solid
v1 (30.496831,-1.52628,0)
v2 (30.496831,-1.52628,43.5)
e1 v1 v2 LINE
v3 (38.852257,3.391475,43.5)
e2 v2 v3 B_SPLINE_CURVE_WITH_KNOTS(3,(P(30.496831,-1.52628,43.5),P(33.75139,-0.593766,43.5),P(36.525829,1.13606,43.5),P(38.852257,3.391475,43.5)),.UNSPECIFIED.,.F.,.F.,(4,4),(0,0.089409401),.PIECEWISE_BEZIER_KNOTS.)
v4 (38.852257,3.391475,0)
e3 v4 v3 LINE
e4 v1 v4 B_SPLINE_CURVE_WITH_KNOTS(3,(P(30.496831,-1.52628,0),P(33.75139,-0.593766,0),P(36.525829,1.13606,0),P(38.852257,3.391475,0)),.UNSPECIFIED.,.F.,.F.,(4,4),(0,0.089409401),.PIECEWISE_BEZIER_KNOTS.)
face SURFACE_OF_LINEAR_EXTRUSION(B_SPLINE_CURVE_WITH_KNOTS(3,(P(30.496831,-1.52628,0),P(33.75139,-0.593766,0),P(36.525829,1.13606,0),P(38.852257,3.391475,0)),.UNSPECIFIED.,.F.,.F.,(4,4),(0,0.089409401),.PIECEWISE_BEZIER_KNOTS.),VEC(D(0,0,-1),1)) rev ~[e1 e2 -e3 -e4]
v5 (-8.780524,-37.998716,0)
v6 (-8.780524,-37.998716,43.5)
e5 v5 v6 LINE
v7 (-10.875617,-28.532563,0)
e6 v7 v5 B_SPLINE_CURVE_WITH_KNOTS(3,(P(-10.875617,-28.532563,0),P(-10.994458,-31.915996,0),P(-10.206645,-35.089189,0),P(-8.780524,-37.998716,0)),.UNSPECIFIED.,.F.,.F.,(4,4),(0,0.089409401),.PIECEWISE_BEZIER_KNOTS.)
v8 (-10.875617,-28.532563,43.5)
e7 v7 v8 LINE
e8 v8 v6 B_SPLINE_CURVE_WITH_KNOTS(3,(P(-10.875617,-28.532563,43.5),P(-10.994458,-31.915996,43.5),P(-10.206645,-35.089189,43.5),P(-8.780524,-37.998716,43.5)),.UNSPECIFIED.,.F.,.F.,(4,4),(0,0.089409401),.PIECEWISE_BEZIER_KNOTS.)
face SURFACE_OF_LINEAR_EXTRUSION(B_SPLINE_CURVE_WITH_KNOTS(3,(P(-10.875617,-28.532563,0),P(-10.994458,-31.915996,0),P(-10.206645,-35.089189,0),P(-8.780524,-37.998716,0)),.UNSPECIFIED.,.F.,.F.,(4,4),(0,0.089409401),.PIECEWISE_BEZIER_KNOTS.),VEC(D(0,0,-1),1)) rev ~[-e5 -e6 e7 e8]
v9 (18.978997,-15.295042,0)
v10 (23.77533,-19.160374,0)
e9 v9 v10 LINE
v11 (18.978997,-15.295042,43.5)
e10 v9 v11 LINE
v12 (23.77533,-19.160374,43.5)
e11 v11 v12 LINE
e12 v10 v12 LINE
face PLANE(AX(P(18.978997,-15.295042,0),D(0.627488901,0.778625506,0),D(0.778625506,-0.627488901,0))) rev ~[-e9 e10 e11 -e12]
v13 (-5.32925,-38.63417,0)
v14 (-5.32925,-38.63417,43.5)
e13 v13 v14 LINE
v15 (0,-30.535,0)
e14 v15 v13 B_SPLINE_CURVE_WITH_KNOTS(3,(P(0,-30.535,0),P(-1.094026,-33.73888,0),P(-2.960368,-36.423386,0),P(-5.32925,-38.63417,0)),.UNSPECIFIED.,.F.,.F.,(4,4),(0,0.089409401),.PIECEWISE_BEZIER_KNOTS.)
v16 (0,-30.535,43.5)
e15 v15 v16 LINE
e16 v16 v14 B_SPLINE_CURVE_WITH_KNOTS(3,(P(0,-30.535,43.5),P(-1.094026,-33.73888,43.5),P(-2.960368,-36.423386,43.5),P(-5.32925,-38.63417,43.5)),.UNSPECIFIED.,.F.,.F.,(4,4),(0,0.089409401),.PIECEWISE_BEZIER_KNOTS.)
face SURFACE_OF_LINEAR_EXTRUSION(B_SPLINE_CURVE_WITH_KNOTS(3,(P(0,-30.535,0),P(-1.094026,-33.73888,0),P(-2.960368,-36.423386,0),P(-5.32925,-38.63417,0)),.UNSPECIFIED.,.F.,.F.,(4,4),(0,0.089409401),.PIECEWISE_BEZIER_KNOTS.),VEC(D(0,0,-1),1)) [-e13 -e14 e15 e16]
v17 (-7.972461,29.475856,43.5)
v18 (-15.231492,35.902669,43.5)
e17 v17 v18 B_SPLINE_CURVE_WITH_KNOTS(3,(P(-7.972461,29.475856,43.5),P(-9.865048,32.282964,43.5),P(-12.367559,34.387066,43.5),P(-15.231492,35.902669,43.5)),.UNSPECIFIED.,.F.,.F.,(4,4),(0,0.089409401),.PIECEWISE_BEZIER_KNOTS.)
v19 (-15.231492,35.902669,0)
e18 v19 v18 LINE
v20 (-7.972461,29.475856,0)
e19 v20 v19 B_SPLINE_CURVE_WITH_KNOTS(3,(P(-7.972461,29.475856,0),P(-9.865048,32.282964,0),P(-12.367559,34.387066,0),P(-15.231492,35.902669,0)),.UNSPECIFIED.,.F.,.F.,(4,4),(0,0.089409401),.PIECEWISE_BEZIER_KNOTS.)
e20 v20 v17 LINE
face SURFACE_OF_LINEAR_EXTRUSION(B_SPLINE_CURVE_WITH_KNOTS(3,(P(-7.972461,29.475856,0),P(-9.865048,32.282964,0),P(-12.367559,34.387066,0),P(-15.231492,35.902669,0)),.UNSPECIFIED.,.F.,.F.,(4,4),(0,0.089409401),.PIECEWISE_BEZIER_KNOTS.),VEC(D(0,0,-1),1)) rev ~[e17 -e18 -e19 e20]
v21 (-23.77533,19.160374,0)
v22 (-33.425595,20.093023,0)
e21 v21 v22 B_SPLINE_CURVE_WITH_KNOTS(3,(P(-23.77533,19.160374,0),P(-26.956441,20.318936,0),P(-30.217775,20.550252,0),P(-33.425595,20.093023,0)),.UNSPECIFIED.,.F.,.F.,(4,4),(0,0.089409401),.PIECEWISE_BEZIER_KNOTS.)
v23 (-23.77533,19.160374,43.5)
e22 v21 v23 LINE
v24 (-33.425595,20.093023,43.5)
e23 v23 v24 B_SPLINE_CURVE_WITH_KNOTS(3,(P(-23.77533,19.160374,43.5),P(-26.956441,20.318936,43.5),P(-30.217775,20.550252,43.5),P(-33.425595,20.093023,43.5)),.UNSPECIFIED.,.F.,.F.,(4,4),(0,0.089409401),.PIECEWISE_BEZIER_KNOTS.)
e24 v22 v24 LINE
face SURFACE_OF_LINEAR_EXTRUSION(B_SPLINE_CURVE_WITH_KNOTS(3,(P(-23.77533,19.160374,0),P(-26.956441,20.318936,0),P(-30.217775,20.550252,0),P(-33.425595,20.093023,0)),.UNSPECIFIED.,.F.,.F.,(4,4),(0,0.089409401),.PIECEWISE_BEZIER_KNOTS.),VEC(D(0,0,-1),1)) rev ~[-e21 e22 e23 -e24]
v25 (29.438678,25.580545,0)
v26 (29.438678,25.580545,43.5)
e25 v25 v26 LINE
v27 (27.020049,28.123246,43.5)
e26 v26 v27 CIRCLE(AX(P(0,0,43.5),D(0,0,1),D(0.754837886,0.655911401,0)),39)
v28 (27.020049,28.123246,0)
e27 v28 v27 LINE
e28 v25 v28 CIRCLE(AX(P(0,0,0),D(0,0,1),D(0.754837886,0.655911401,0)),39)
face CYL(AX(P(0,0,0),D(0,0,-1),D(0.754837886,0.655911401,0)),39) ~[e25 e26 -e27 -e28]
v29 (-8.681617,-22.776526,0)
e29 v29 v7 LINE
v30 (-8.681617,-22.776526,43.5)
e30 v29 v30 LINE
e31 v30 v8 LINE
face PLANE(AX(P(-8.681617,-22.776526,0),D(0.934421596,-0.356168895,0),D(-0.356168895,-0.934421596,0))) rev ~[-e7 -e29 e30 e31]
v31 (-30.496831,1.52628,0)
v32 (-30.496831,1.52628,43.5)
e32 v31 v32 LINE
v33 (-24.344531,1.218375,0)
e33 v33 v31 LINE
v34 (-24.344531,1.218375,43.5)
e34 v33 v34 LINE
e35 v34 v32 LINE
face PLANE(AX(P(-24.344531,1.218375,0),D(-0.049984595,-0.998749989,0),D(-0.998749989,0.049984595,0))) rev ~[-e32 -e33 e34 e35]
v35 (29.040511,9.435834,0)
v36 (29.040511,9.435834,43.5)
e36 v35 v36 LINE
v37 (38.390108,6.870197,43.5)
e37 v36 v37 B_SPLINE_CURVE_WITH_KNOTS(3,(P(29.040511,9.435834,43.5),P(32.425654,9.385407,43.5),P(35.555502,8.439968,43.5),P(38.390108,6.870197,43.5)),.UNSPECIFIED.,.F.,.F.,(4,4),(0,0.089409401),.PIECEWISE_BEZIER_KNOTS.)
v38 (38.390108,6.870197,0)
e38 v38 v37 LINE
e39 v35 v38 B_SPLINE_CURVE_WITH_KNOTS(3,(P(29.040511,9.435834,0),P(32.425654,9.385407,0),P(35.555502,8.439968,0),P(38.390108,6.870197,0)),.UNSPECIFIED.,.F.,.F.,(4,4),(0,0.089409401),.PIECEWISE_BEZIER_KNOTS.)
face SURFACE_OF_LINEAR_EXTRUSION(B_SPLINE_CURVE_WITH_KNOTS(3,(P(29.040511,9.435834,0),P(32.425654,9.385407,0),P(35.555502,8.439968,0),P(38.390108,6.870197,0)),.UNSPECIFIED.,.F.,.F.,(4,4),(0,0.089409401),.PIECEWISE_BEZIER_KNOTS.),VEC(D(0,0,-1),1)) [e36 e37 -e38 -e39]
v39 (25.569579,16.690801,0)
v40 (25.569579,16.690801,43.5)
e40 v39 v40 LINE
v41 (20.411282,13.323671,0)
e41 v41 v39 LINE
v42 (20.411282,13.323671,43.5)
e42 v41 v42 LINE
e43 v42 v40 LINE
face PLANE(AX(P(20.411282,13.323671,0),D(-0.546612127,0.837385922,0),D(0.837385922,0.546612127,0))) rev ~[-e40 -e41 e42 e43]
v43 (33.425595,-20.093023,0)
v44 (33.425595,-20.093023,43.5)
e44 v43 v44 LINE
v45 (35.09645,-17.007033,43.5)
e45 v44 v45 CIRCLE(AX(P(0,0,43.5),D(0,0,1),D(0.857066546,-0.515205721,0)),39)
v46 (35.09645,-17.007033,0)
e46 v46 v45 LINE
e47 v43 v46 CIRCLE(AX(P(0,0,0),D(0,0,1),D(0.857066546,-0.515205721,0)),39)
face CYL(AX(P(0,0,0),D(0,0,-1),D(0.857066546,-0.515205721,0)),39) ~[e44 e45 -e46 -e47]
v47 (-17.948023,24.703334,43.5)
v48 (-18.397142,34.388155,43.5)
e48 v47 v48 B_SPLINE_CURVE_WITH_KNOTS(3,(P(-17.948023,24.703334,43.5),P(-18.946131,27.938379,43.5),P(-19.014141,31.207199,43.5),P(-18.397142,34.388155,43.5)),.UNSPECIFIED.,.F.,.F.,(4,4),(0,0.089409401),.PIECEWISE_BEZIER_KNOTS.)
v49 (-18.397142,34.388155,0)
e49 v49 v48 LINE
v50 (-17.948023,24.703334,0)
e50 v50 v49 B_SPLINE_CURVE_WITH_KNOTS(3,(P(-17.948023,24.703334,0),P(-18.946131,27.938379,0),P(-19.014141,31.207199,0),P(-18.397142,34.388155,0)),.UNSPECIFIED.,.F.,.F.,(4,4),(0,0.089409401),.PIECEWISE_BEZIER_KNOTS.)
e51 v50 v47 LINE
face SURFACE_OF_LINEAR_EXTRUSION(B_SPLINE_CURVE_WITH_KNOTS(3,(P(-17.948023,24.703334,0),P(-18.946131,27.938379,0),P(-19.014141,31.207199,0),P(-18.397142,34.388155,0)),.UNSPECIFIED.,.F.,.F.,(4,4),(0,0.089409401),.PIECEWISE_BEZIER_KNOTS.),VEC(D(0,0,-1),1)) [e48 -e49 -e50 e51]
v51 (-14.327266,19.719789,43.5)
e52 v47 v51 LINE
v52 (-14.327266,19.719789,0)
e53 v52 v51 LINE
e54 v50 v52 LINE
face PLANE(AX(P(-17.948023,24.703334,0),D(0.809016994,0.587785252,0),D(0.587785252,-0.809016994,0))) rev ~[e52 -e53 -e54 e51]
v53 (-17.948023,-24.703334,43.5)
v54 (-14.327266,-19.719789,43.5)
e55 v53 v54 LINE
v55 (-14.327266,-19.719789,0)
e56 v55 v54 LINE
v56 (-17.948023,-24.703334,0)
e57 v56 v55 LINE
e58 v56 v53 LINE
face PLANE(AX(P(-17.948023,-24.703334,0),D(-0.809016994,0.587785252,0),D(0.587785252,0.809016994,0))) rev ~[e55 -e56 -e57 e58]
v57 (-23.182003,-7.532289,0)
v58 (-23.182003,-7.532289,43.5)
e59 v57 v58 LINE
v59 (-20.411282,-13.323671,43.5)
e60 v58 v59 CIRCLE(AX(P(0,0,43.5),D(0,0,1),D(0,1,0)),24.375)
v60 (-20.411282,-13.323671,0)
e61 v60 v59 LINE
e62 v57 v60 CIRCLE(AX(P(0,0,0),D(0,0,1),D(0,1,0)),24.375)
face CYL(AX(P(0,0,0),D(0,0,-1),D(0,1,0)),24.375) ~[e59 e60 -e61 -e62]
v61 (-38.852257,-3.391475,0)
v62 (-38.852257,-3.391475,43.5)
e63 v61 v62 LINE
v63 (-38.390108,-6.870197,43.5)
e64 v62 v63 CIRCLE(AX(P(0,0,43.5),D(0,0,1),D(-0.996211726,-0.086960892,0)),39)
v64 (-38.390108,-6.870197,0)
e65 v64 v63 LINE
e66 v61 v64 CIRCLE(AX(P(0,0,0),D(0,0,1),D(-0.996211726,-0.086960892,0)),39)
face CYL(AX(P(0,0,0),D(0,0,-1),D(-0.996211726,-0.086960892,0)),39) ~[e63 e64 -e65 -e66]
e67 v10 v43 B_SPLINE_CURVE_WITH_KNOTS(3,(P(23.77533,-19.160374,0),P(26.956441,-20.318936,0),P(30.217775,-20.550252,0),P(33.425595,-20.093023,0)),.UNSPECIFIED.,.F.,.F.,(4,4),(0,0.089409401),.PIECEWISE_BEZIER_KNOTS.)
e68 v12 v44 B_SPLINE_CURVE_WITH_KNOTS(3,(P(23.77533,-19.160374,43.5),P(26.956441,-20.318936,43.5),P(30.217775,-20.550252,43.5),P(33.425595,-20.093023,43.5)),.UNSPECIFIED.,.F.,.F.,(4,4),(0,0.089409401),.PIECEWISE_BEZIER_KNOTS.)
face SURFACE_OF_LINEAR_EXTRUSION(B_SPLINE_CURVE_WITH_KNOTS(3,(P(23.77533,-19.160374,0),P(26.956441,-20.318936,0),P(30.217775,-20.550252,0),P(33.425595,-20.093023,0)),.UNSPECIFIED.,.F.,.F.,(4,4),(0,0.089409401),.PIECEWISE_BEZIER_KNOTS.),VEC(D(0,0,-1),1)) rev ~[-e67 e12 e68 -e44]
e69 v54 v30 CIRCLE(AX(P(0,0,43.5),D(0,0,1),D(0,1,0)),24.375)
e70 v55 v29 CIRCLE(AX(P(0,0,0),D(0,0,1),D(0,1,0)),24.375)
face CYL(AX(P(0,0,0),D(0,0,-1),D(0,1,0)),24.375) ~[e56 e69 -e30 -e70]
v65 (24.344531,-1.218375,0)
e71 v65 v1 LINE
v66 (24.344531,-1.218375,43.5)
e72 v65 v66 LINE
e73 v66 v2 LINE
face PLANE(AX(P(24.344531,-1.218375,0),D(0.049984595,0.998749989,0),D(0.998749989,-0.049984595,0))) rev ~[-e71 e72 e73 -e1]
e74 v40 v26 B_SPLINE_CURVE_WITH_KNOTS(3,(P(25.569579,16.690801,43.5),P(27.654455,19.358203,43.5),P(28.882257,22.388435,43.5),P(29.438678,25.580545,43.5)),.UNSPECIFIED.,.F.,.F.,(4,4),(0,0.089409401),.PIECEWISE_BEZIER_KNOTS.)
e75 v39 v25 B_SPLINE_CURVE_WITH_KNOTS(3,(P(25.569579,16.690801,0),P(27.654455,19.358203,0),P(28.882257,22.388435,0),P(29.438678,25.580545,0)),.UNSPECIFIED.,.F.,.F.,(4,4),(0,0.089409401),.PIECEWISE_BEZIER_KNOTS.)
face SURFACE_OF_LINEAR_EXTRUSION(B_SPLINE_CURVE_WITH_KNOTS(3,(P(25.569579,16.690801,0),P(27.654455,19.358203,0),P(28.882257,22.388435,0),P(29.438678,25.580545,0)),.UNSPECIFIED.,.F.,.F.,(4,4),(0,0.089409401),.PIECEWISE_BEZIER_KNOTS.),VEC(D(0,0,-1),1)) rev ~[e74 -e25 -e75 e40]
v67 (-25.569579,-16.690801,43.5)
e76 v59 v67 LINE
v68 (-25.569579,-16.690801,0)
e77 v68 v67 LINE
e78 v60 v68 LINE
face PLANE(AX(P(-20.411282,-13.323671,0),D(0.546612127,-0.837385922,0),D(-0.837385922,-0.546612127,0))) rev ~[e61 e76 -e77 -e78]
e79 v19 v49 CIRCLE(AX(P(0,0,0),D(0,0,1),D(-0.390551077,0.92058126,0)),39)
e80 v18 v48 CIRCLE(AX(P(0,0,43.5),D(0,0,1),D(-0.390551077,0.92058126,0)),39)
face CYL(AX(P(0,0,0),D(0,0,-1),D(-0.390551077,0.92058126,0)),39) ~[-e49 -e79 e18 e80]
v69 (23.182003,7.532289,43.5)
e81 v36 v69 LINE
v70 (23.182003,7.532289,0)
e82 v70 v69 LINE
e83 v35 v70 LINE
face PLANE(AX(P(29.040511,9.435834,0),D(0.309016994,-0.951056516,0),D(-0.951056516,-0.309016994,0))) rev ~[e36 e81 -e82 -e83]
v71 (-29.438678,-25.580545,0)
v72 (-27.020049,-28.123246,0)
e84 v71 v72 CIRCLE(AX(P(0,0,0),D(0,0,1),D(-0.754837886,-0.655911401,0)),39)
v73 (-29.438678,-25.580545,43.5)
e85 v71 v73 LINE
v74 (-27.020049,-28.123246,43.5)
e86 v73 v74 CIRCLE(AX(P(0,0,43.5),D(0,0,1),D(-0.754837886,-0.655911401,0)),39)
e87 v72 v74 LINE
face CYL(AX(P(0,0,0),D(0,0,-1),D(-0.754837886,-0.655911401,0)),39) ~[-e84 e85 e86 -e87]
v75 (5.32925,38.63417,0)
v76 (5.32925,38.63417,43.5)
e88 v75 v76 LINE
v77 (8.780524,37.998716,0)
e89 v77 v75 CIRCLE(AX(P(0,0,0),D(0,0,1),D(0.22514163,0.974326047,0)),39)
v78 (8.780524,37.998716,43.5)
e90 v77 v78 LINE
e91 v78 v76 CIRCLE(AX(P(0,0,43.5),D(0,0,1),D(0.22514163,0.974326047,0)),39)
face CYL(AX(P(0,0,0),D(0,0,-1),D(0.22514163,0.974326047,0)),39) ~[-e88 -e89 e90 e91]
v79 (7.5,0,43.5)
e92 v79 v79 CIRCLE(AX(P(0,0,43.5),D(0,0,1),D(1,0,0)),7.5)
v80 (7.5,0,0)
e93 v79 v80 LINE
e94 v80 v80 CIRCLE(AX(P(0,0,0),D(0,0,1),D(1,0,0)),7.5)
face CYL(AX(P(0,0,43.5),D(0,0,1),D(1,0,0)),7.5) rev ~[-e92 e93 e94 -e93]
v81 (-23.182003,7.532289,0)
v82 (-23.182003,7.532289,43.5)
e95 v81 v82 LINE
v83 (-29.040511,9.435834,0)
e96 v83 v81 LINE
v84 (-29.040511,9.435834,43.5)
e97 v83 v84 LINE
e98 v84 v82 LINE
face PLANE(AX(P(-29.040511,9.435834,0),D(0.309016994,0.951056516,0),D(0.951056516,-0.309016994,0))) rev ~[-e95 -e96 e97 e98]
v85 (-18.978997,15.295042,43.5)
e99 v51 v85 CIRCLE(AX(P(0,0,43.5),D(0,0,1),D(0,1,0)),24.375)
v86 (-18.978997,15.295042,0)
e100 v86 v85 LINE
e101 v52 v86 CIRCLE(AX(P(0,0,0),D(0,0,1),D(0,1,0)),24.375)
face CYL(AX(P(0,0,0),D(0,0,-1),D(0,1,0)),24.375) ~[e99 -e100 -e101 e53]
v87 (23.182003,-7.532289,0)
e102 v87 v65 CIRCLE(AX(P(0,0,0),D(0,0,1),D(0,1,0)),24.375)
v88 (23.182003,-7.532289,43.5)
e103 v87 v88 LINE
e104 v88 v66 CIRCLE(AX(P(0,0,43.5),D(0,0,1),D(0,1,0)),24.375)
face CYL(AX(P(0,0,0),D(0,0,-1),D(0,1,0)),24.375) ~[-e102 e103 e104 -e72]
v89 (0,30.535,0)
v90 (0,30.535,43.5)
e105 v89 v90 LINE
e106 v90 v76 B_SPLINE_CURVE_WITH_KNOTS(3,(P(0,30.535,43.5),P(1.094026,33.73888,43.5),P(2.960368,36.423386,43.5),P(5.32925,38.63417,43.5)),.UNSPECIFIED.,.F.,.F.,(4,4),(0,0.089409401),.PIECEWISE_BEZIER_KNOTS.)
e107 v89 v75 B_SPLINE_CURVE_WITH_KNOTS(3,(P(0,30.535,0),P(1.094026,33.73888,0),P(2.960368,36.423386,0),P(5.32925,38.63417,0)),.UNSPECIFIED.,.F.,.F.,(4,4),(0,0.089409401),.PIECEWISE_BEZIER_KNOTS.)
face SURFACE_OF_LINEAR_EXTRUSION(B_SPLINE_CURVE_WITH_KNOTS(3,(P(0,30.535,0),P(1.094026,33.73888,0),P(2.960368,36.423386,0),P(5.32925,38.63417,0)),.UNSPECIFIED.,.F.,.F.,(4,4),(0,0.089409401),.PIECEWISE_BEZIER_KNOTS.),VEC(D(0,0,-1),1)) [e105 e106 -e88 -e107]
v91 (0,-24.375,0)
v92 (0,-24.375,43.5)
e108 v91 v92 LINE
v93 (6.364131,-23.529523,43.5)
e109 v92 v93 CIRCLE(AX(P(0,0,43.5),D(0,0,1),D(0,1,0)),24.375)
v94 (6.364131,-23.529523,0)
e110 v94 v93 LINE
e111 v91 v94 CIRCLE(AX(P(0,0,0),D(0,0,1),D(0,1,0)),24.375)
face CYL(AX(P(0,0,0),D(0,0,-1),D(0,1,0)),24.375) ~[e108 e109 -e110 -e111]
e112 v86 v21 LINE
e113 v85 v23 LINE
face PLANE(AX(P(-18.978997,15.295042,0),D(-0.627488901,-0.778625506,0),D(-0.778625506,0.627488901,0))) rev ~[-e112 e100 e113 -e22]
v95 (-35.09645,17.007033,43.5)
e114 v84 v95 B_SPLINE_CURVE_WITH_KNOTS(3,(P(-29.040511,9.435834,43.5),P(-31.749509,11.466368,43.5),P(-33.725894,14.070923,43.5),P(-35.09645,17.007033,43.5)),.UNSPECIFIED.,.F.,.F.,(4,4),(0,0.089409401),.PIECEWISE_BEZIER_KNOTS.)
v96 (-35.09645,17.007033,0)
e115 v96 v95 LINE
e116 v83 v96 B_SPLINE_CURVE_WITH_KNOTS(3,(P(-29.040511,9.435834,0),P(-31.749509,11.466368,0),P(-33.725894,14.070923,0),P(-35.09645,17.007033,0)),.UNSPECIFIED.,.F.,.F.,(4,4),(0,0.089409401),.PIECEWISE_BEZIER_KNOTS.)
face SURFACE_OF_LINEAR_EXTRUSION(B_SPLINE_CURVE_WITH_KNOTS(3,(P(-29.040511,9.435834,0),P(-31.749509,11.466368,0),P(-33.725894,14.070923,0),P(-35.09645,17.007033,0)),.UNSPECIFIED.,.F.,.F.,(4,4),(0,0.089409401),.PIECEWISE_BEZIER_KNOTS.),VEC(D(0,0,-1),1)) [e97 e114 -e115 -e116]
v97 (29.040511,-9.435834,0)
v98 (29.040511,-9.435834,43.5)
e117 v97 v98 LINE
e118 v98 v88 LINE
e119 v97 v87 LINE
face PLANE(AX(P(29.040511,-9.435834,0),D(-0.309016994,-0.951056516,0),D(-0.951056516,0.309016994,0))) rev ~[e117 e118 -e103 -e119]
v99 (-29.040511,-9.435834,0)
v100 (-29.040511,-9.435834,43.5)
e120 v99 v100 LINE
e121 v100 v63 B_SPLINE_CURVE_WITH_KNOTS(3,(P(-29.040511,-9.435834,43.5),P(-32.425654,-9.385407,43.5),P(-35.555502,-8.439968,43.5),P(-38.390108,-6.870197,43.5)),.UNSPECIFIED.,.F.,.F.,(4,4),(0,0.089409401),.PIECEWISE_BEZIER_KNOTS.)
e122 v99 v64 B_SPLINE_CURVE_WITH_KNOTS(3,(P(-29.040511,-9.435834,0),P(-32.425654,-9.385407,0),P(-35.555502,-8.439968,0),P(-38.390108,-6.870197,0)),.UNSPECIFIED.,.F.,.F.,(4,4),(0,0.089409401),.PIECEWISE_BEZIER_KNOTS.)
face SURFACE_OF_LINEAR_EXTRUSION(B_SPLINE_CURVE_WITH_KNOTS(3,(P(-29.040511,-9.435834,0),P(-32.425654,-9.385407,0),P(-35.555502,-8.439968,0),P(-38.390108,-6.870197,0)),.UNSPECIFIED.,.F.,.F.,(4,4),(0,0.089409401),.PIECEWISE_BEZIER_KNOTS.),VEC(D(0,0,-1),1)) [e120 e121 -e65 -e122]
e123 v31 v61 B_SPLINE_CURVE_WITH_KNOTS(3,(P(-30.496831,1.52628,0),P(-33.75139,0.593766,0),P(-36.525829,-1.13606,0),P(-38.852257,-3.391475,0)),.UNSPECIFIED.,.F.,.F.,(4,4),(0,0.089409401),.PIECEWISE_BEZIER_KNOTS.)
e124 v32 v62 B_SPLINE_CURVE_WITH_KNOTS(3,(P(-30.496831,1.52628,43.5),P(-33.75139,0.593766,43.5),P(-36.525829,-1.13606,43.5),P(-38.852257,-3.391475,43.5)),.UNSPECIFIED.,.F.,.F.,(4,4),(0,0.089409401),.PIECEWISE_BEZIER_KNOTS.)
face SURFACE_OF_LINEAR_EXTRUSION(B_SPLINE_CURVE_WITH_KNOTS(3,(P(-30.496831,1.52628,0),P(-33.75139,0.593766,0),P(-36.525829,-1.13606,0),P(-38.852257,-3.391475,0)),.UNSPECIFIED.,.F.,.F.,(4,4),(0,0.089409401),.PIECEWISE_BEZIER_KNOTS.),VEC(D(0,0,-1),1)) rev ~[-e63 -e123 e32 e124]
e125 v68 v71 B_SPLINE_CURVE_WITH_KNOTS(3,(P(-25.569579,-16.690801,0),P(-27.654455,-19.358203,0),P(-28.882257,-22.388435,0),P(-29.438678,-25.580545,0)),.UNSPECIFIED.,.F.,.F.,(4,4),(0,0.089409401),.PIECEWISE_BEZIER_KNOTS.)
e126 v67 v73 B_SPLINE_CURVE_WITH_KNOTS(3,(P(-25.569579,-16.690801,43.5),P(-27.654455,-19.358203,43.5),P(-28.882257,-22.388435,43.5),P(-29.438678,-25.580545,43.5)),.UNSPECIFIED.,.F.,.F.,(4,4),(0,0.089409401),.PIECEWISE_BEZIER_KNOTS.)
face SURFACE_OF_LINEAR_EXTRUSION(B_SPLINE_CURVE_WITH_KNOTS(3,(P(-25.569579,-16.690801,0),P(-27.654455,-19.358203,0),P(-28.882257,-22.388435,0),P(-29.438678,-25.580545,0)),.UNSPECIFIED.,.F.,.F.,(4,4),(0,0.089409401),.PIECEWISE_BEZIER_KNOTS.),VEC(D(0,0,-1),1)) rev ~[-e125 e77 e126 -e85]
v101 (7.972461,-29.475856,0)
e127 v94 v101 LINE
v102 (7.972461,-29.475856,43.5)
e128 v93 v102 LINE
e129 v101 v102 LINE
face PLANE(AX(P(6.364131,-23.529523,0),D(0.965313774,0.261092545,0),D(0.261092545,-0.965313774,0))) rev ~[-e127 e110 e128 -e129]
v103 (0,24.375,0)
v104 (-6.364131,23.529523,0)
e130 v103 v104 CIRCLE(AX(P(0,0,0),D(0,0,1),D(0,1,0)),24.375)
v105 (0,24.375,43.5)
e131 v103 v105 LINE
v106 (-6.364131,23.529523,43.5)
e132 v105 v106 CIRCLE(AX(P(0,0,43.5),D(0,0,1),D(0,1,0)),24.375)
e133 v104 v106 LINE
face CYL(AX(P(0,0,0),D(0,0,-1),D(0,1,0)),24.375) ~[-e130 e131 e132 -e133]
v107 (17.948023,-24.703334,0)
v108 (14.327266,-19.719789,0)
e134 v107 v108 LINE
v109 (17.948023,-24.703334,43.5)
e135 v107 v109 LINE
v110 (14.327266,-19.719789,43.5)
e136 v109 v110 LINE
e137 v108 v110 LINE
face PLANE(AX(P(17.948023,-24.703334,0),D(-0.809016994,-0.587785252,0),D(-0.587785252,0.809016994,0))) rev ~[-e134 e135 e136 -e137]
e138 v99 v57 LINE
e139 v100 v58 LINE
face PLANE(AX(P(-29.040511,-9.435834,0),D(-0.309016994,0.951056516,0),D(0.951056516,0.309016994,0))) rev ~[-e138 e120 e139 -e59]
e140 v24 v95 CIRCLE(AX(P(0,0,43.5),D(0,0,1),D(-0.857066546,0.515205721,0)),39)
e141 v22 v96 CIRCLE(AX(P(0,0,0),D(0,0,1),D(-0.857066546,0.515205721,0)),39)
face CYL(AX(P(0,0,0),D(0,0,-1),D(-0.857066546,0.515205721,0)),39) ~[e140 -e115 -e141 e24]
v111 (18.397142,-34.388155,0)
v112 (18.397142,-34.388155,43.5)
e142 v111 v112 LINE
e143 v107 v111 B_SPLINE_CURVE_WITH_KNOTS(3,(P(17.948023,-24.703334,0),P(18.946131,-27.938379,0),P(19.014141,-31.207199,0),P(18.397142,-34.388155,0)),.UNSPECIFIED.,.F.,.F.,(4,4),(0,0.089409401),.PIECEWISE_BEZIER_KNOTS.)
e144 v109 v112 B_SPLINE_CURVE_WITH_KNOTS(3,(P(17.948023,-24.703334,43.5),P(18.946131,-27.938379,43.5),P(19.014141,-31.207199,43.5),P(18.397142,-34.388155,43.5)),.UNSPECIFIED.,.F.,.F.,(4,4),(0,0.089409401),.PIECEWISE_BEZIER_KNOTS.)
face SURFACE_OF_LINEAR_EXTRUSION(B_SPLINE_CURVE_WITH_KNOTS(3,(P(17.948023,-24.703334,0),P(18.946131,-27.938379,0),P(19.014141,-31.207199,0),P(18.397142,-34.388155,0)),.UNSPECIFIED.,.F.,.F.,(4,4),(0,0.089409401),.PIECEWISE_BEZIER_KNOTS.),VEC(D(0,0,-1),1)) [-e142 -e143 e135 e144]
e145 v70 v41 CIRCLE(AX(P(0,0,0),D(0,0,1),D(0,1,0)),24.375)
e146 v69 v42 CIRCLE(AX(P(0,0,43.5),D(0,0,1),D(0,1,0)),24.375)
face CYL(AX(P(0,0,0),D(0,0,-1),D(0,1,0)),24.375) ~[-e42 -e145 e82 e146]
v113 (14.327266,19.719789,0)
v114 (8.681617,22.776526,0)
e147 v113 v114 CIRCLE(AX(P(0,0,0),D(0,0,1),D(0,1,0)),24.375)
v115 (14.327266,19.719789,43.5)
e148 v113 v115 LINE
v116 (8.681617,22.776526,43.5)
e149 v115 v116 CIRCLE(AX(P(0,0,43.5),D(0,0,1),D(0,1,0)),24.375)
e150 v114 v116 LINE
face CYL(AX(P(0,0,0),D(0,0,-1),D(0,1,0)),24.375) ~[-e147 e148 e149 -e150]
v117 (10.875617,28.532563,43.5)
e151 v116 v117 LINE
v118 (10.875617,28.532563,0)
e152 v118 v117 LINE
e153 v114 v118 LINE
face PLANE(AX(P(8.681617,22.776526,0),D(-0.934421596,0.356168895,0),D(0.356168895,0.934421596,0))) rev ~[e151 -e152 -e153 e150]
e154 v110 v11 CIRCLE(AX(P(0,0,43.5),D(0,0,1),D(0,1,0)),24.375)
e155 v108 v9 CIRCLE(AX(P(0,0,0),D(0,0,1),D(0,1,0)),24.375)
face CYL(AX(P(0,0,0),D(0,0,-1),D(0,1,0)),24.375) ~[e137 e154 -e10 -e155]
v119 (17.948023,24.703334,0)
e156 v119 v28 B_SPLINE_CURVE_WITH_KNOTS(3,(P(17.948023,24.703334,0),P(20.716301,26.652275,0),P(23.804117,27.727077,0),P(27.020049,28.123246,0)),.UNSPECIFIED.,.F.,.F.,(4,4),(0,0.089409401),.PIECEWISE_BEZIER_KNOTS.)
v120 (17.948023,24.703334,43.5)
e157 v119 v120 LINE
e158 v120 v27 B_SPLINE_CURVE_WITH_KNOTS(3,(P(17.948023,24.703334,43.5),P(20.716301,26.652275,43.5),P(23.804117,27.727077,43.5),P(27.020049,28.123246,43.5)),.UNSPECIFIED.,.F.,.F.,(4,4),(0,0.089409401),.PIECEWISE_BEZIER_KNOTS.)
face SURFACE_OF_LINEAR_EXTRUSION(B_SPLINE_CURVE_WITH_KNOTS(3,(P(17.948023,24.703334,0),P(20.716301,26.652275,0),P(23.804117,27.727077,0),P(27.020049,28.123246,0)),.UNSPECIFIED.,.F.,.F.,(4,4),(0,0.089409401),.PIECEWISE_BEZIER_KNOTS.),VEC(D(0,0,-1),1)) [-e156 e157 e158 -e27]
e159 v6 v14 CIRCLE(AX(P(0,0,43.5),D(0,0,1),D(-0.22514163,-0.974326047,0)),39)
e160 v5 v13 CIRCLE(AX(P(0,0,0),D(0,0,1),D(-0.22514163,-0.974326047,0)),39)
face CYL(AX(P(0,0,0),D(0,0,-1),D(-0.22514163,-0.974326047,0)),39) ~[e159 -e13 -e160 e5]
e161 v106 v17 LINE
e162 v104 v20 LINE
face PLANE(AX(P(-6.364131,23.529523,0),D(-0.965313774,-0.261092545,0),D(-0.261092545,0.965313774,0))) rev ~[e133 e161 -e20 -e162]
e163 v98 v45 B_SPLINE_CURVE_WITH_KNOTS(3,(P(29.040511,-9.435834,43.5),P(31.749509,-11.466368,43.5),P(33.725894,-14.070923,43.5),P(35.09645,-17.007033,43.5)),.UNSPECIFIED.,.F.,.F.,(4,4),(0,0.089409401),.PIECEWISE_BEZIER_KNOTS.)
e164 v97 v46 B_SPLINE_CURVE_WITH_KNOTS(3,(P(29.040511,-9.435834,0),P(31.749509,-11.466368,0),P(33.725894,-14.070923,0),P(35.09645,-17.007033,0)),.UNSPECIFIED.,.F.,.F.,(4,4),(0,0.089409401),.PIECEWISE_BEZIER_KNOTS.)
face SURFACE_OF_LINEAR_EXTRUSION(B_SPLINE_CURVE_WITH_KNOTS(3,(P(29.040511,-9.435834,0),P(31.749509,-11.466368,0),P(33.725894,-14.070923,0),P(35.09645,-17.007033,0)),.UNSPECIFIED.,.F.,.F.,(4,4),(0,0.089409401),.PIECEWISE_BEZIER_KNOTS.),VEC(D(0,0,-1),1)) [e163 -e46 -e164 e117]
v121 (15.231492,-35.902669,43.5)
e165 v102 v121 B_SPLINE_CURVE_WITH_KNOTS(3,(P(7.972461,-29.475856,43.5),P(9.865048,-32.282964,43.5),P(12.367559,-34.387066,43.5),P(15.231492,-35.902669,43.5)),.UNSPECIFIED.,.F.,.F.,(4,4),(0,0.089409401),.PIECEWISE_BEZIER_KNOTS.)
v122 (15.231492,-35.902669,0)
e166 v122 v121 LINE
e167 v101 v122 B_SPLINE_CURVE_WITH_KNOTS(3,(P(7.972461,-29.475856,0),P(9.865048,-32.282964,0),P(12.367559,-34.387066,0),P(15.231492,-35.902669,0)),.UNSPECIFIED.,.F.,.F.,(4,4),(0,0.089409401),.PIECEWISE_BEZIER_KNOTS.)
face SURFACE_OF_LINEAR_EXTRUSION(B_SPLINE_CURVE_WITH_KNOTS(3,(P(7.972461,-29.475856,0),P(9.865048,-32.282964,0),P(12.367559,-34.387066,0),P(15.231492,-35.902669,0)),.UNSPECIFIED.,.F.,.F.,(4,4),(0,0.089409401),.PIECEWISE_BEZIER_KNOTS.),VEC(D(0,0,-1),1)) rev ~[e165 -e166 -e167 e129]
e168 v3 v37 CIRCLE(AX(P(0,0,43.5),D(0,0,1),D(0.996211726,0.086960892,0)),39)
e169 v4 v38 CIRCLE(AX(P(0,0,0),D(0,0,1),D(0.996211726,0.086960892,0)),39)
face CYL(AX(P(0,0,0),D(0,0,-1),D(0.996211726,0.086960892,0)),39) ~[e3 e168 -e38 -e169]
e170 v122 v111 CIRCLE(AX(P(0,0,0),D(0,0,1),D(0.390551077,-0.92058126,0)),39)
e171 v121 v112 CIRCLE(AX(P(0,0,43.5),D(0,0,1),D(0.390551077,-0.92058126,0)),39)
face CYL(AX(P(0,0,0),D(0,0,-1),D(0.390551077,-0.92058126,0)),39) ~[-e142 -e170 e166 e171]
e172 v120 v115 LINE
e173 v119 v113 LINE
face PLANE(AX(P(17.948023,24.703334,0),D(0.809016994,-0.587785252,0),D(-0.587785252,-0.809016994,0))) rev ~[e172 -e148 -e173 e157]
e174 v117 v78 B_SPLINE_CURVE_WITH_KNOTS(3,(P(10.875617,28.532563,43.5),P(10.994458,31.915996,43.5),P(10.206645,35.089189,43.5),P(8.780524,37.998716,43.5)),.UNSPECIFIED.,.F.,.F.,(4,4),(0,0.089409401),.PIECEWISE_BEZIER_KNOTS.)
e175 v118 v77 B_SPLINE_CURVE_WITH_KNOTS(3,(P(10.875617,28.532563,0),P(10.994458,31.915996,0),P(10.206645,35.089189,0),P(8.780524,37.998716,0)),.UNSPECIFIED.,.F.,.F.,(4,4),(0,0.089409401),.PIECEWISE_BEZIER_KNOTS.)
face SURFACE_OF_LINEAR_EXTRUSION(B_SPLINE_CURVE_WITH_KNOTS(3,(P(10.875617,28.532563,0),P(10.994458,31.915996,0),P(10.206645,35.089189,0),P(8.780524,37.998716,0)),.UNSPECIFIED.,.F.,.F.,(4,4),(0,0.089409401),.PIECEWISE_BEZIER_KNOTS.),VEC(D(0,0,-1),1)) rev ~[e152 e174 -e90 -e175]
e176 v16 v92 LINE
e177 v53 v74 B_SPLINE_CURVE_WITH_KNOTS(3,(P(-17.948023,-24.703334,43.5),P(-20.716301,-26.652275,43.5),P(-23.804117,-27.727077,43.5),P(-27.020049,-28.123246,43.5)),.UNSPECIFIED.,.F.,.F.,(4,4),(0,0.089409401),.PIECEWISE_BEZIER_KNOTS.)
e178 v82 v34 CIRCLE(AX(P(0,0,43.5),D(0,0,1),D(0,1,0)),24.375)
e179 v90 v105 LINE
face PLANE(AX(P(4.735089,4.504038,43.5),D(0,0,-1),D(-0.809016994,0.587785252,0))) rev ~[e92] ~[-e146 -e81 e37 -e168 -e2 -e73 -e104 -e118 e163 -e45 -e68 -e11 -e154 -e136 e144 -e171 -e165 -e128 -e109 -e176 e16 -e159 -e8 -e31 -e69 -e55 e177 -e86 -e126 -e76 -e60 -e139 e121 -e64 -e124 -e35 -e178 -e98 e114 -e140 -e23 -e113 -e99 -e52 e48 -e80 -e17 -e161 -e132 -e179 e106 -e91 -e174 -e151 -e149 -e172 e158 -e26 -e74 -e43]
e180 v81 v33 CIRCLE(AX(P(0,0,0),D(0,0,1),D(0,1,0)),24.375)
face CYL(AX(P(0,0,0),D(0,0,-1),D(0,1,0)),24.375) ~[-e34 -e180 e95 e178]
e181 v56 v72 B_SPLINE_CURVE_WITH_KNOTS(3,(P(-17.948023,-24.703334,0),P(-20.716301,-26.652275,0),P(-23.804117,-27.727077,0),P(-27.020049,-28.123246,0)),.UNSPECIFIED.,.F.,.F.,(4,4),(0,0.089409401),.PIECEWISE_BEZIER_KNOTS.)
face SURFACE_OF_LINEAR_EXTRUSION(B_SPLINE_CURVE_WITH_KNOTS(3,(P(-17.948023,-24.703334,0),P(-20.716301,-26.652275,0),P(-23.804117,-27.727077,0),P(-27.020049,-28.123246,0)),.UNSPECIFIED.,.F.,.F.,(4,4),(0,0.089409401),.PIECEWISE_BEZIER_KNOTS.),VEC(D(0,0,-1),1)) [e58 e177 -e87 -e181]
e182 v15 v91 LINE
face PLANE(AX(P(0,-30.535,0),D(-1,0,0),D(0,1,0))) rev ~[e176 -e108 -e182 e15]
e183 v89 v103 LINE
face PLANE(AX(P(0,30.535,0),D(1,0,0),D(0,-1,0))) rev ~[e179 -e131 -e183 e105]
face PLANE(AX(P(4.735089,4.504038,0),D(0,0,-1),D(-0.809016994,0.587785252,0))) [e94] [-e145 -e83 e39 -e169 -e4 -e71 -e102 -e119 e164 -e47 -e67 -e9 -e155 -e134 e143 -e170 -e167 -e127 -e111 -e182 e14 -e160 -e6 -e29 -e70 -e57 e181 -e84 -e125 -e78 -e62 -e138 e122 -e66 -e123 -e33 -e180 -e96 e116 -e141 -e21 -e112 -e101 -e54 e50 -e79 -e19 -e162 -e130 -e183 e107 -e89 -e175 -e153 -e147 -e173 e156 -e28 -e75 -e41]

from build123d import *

# Parameters (mm, degrees)
BOSS_EXTRUDE1_DEPTH = 43.5
CIRPATTERN1_COUNT   = 10
SKETCH2_R           = 7.5
CUT_EXTRUDE1_DEPTH  = 70.959609915


with BuildPart() as part:
    # Sketch1 → Boss-Extrude1 (new body)
    with BuildSketch(Plane.XY):
        with BuildLine():
            add(Edge.make_bspline(
                [(0, 30.535), (1.094025697, 33.738879921), (2.960368297, 36.423385517), (5.329249796, 38.634170065)],
                knots=[0, 0, 0, 0, 0.089409401, 0.089409401, 0.089409401, 0.089409401], degree=3))
            Line((0, 30.535), (0, 24.375))
            ThreePointArc((0, 24.375), (-4.413773565, -23.972050974), (8.681616812, 22.776526393))
            Line((8.681616812, 22.776526393), (10.875617204, 28.532563422))
            add(Edge.make_bspline(
                [(10.875617204, 28.532563422), (10.994458338, 31.915995933), (10.206644899, 35.089189117), (8.780523558, 37.998715847)],
                knots=[0, 0, 0, 0, 0.089409401, 0.089409401, 0.089409401, 0.089409401], degree=3))
            ThreePointArc((8.780523558, 37.998715847), (7.062037704, 38.355281559), (5.329249796, 38.634170065))
        make_face()
    boss_extrude1 = extrude(amount=BOSS_EXTRUDE1_DEPTH)

    # CirPattern1: Boss-Extrude1 ×10 about axis
    cirpattern1_axis = Axis((0, 0, 43.5), (0, 0, 1))
    for i in range(1, CIRPATTERN1_COUNT):
        add(boss_extrude1.rotate(cirpattern1_axis, i * 360 / CIRPATTERN1_COUNT))

    # Sketch2 → Cut-Extrude1 (cut, through all)
    with BuildSketch(Plane.XY.offset(43.5)):
        Circle(SKETCH2_R)
    extrude(amount=-CUT_EXTRUDE1_DEPTH, mode=Mode.SUBTRACT)


solid = part.part
